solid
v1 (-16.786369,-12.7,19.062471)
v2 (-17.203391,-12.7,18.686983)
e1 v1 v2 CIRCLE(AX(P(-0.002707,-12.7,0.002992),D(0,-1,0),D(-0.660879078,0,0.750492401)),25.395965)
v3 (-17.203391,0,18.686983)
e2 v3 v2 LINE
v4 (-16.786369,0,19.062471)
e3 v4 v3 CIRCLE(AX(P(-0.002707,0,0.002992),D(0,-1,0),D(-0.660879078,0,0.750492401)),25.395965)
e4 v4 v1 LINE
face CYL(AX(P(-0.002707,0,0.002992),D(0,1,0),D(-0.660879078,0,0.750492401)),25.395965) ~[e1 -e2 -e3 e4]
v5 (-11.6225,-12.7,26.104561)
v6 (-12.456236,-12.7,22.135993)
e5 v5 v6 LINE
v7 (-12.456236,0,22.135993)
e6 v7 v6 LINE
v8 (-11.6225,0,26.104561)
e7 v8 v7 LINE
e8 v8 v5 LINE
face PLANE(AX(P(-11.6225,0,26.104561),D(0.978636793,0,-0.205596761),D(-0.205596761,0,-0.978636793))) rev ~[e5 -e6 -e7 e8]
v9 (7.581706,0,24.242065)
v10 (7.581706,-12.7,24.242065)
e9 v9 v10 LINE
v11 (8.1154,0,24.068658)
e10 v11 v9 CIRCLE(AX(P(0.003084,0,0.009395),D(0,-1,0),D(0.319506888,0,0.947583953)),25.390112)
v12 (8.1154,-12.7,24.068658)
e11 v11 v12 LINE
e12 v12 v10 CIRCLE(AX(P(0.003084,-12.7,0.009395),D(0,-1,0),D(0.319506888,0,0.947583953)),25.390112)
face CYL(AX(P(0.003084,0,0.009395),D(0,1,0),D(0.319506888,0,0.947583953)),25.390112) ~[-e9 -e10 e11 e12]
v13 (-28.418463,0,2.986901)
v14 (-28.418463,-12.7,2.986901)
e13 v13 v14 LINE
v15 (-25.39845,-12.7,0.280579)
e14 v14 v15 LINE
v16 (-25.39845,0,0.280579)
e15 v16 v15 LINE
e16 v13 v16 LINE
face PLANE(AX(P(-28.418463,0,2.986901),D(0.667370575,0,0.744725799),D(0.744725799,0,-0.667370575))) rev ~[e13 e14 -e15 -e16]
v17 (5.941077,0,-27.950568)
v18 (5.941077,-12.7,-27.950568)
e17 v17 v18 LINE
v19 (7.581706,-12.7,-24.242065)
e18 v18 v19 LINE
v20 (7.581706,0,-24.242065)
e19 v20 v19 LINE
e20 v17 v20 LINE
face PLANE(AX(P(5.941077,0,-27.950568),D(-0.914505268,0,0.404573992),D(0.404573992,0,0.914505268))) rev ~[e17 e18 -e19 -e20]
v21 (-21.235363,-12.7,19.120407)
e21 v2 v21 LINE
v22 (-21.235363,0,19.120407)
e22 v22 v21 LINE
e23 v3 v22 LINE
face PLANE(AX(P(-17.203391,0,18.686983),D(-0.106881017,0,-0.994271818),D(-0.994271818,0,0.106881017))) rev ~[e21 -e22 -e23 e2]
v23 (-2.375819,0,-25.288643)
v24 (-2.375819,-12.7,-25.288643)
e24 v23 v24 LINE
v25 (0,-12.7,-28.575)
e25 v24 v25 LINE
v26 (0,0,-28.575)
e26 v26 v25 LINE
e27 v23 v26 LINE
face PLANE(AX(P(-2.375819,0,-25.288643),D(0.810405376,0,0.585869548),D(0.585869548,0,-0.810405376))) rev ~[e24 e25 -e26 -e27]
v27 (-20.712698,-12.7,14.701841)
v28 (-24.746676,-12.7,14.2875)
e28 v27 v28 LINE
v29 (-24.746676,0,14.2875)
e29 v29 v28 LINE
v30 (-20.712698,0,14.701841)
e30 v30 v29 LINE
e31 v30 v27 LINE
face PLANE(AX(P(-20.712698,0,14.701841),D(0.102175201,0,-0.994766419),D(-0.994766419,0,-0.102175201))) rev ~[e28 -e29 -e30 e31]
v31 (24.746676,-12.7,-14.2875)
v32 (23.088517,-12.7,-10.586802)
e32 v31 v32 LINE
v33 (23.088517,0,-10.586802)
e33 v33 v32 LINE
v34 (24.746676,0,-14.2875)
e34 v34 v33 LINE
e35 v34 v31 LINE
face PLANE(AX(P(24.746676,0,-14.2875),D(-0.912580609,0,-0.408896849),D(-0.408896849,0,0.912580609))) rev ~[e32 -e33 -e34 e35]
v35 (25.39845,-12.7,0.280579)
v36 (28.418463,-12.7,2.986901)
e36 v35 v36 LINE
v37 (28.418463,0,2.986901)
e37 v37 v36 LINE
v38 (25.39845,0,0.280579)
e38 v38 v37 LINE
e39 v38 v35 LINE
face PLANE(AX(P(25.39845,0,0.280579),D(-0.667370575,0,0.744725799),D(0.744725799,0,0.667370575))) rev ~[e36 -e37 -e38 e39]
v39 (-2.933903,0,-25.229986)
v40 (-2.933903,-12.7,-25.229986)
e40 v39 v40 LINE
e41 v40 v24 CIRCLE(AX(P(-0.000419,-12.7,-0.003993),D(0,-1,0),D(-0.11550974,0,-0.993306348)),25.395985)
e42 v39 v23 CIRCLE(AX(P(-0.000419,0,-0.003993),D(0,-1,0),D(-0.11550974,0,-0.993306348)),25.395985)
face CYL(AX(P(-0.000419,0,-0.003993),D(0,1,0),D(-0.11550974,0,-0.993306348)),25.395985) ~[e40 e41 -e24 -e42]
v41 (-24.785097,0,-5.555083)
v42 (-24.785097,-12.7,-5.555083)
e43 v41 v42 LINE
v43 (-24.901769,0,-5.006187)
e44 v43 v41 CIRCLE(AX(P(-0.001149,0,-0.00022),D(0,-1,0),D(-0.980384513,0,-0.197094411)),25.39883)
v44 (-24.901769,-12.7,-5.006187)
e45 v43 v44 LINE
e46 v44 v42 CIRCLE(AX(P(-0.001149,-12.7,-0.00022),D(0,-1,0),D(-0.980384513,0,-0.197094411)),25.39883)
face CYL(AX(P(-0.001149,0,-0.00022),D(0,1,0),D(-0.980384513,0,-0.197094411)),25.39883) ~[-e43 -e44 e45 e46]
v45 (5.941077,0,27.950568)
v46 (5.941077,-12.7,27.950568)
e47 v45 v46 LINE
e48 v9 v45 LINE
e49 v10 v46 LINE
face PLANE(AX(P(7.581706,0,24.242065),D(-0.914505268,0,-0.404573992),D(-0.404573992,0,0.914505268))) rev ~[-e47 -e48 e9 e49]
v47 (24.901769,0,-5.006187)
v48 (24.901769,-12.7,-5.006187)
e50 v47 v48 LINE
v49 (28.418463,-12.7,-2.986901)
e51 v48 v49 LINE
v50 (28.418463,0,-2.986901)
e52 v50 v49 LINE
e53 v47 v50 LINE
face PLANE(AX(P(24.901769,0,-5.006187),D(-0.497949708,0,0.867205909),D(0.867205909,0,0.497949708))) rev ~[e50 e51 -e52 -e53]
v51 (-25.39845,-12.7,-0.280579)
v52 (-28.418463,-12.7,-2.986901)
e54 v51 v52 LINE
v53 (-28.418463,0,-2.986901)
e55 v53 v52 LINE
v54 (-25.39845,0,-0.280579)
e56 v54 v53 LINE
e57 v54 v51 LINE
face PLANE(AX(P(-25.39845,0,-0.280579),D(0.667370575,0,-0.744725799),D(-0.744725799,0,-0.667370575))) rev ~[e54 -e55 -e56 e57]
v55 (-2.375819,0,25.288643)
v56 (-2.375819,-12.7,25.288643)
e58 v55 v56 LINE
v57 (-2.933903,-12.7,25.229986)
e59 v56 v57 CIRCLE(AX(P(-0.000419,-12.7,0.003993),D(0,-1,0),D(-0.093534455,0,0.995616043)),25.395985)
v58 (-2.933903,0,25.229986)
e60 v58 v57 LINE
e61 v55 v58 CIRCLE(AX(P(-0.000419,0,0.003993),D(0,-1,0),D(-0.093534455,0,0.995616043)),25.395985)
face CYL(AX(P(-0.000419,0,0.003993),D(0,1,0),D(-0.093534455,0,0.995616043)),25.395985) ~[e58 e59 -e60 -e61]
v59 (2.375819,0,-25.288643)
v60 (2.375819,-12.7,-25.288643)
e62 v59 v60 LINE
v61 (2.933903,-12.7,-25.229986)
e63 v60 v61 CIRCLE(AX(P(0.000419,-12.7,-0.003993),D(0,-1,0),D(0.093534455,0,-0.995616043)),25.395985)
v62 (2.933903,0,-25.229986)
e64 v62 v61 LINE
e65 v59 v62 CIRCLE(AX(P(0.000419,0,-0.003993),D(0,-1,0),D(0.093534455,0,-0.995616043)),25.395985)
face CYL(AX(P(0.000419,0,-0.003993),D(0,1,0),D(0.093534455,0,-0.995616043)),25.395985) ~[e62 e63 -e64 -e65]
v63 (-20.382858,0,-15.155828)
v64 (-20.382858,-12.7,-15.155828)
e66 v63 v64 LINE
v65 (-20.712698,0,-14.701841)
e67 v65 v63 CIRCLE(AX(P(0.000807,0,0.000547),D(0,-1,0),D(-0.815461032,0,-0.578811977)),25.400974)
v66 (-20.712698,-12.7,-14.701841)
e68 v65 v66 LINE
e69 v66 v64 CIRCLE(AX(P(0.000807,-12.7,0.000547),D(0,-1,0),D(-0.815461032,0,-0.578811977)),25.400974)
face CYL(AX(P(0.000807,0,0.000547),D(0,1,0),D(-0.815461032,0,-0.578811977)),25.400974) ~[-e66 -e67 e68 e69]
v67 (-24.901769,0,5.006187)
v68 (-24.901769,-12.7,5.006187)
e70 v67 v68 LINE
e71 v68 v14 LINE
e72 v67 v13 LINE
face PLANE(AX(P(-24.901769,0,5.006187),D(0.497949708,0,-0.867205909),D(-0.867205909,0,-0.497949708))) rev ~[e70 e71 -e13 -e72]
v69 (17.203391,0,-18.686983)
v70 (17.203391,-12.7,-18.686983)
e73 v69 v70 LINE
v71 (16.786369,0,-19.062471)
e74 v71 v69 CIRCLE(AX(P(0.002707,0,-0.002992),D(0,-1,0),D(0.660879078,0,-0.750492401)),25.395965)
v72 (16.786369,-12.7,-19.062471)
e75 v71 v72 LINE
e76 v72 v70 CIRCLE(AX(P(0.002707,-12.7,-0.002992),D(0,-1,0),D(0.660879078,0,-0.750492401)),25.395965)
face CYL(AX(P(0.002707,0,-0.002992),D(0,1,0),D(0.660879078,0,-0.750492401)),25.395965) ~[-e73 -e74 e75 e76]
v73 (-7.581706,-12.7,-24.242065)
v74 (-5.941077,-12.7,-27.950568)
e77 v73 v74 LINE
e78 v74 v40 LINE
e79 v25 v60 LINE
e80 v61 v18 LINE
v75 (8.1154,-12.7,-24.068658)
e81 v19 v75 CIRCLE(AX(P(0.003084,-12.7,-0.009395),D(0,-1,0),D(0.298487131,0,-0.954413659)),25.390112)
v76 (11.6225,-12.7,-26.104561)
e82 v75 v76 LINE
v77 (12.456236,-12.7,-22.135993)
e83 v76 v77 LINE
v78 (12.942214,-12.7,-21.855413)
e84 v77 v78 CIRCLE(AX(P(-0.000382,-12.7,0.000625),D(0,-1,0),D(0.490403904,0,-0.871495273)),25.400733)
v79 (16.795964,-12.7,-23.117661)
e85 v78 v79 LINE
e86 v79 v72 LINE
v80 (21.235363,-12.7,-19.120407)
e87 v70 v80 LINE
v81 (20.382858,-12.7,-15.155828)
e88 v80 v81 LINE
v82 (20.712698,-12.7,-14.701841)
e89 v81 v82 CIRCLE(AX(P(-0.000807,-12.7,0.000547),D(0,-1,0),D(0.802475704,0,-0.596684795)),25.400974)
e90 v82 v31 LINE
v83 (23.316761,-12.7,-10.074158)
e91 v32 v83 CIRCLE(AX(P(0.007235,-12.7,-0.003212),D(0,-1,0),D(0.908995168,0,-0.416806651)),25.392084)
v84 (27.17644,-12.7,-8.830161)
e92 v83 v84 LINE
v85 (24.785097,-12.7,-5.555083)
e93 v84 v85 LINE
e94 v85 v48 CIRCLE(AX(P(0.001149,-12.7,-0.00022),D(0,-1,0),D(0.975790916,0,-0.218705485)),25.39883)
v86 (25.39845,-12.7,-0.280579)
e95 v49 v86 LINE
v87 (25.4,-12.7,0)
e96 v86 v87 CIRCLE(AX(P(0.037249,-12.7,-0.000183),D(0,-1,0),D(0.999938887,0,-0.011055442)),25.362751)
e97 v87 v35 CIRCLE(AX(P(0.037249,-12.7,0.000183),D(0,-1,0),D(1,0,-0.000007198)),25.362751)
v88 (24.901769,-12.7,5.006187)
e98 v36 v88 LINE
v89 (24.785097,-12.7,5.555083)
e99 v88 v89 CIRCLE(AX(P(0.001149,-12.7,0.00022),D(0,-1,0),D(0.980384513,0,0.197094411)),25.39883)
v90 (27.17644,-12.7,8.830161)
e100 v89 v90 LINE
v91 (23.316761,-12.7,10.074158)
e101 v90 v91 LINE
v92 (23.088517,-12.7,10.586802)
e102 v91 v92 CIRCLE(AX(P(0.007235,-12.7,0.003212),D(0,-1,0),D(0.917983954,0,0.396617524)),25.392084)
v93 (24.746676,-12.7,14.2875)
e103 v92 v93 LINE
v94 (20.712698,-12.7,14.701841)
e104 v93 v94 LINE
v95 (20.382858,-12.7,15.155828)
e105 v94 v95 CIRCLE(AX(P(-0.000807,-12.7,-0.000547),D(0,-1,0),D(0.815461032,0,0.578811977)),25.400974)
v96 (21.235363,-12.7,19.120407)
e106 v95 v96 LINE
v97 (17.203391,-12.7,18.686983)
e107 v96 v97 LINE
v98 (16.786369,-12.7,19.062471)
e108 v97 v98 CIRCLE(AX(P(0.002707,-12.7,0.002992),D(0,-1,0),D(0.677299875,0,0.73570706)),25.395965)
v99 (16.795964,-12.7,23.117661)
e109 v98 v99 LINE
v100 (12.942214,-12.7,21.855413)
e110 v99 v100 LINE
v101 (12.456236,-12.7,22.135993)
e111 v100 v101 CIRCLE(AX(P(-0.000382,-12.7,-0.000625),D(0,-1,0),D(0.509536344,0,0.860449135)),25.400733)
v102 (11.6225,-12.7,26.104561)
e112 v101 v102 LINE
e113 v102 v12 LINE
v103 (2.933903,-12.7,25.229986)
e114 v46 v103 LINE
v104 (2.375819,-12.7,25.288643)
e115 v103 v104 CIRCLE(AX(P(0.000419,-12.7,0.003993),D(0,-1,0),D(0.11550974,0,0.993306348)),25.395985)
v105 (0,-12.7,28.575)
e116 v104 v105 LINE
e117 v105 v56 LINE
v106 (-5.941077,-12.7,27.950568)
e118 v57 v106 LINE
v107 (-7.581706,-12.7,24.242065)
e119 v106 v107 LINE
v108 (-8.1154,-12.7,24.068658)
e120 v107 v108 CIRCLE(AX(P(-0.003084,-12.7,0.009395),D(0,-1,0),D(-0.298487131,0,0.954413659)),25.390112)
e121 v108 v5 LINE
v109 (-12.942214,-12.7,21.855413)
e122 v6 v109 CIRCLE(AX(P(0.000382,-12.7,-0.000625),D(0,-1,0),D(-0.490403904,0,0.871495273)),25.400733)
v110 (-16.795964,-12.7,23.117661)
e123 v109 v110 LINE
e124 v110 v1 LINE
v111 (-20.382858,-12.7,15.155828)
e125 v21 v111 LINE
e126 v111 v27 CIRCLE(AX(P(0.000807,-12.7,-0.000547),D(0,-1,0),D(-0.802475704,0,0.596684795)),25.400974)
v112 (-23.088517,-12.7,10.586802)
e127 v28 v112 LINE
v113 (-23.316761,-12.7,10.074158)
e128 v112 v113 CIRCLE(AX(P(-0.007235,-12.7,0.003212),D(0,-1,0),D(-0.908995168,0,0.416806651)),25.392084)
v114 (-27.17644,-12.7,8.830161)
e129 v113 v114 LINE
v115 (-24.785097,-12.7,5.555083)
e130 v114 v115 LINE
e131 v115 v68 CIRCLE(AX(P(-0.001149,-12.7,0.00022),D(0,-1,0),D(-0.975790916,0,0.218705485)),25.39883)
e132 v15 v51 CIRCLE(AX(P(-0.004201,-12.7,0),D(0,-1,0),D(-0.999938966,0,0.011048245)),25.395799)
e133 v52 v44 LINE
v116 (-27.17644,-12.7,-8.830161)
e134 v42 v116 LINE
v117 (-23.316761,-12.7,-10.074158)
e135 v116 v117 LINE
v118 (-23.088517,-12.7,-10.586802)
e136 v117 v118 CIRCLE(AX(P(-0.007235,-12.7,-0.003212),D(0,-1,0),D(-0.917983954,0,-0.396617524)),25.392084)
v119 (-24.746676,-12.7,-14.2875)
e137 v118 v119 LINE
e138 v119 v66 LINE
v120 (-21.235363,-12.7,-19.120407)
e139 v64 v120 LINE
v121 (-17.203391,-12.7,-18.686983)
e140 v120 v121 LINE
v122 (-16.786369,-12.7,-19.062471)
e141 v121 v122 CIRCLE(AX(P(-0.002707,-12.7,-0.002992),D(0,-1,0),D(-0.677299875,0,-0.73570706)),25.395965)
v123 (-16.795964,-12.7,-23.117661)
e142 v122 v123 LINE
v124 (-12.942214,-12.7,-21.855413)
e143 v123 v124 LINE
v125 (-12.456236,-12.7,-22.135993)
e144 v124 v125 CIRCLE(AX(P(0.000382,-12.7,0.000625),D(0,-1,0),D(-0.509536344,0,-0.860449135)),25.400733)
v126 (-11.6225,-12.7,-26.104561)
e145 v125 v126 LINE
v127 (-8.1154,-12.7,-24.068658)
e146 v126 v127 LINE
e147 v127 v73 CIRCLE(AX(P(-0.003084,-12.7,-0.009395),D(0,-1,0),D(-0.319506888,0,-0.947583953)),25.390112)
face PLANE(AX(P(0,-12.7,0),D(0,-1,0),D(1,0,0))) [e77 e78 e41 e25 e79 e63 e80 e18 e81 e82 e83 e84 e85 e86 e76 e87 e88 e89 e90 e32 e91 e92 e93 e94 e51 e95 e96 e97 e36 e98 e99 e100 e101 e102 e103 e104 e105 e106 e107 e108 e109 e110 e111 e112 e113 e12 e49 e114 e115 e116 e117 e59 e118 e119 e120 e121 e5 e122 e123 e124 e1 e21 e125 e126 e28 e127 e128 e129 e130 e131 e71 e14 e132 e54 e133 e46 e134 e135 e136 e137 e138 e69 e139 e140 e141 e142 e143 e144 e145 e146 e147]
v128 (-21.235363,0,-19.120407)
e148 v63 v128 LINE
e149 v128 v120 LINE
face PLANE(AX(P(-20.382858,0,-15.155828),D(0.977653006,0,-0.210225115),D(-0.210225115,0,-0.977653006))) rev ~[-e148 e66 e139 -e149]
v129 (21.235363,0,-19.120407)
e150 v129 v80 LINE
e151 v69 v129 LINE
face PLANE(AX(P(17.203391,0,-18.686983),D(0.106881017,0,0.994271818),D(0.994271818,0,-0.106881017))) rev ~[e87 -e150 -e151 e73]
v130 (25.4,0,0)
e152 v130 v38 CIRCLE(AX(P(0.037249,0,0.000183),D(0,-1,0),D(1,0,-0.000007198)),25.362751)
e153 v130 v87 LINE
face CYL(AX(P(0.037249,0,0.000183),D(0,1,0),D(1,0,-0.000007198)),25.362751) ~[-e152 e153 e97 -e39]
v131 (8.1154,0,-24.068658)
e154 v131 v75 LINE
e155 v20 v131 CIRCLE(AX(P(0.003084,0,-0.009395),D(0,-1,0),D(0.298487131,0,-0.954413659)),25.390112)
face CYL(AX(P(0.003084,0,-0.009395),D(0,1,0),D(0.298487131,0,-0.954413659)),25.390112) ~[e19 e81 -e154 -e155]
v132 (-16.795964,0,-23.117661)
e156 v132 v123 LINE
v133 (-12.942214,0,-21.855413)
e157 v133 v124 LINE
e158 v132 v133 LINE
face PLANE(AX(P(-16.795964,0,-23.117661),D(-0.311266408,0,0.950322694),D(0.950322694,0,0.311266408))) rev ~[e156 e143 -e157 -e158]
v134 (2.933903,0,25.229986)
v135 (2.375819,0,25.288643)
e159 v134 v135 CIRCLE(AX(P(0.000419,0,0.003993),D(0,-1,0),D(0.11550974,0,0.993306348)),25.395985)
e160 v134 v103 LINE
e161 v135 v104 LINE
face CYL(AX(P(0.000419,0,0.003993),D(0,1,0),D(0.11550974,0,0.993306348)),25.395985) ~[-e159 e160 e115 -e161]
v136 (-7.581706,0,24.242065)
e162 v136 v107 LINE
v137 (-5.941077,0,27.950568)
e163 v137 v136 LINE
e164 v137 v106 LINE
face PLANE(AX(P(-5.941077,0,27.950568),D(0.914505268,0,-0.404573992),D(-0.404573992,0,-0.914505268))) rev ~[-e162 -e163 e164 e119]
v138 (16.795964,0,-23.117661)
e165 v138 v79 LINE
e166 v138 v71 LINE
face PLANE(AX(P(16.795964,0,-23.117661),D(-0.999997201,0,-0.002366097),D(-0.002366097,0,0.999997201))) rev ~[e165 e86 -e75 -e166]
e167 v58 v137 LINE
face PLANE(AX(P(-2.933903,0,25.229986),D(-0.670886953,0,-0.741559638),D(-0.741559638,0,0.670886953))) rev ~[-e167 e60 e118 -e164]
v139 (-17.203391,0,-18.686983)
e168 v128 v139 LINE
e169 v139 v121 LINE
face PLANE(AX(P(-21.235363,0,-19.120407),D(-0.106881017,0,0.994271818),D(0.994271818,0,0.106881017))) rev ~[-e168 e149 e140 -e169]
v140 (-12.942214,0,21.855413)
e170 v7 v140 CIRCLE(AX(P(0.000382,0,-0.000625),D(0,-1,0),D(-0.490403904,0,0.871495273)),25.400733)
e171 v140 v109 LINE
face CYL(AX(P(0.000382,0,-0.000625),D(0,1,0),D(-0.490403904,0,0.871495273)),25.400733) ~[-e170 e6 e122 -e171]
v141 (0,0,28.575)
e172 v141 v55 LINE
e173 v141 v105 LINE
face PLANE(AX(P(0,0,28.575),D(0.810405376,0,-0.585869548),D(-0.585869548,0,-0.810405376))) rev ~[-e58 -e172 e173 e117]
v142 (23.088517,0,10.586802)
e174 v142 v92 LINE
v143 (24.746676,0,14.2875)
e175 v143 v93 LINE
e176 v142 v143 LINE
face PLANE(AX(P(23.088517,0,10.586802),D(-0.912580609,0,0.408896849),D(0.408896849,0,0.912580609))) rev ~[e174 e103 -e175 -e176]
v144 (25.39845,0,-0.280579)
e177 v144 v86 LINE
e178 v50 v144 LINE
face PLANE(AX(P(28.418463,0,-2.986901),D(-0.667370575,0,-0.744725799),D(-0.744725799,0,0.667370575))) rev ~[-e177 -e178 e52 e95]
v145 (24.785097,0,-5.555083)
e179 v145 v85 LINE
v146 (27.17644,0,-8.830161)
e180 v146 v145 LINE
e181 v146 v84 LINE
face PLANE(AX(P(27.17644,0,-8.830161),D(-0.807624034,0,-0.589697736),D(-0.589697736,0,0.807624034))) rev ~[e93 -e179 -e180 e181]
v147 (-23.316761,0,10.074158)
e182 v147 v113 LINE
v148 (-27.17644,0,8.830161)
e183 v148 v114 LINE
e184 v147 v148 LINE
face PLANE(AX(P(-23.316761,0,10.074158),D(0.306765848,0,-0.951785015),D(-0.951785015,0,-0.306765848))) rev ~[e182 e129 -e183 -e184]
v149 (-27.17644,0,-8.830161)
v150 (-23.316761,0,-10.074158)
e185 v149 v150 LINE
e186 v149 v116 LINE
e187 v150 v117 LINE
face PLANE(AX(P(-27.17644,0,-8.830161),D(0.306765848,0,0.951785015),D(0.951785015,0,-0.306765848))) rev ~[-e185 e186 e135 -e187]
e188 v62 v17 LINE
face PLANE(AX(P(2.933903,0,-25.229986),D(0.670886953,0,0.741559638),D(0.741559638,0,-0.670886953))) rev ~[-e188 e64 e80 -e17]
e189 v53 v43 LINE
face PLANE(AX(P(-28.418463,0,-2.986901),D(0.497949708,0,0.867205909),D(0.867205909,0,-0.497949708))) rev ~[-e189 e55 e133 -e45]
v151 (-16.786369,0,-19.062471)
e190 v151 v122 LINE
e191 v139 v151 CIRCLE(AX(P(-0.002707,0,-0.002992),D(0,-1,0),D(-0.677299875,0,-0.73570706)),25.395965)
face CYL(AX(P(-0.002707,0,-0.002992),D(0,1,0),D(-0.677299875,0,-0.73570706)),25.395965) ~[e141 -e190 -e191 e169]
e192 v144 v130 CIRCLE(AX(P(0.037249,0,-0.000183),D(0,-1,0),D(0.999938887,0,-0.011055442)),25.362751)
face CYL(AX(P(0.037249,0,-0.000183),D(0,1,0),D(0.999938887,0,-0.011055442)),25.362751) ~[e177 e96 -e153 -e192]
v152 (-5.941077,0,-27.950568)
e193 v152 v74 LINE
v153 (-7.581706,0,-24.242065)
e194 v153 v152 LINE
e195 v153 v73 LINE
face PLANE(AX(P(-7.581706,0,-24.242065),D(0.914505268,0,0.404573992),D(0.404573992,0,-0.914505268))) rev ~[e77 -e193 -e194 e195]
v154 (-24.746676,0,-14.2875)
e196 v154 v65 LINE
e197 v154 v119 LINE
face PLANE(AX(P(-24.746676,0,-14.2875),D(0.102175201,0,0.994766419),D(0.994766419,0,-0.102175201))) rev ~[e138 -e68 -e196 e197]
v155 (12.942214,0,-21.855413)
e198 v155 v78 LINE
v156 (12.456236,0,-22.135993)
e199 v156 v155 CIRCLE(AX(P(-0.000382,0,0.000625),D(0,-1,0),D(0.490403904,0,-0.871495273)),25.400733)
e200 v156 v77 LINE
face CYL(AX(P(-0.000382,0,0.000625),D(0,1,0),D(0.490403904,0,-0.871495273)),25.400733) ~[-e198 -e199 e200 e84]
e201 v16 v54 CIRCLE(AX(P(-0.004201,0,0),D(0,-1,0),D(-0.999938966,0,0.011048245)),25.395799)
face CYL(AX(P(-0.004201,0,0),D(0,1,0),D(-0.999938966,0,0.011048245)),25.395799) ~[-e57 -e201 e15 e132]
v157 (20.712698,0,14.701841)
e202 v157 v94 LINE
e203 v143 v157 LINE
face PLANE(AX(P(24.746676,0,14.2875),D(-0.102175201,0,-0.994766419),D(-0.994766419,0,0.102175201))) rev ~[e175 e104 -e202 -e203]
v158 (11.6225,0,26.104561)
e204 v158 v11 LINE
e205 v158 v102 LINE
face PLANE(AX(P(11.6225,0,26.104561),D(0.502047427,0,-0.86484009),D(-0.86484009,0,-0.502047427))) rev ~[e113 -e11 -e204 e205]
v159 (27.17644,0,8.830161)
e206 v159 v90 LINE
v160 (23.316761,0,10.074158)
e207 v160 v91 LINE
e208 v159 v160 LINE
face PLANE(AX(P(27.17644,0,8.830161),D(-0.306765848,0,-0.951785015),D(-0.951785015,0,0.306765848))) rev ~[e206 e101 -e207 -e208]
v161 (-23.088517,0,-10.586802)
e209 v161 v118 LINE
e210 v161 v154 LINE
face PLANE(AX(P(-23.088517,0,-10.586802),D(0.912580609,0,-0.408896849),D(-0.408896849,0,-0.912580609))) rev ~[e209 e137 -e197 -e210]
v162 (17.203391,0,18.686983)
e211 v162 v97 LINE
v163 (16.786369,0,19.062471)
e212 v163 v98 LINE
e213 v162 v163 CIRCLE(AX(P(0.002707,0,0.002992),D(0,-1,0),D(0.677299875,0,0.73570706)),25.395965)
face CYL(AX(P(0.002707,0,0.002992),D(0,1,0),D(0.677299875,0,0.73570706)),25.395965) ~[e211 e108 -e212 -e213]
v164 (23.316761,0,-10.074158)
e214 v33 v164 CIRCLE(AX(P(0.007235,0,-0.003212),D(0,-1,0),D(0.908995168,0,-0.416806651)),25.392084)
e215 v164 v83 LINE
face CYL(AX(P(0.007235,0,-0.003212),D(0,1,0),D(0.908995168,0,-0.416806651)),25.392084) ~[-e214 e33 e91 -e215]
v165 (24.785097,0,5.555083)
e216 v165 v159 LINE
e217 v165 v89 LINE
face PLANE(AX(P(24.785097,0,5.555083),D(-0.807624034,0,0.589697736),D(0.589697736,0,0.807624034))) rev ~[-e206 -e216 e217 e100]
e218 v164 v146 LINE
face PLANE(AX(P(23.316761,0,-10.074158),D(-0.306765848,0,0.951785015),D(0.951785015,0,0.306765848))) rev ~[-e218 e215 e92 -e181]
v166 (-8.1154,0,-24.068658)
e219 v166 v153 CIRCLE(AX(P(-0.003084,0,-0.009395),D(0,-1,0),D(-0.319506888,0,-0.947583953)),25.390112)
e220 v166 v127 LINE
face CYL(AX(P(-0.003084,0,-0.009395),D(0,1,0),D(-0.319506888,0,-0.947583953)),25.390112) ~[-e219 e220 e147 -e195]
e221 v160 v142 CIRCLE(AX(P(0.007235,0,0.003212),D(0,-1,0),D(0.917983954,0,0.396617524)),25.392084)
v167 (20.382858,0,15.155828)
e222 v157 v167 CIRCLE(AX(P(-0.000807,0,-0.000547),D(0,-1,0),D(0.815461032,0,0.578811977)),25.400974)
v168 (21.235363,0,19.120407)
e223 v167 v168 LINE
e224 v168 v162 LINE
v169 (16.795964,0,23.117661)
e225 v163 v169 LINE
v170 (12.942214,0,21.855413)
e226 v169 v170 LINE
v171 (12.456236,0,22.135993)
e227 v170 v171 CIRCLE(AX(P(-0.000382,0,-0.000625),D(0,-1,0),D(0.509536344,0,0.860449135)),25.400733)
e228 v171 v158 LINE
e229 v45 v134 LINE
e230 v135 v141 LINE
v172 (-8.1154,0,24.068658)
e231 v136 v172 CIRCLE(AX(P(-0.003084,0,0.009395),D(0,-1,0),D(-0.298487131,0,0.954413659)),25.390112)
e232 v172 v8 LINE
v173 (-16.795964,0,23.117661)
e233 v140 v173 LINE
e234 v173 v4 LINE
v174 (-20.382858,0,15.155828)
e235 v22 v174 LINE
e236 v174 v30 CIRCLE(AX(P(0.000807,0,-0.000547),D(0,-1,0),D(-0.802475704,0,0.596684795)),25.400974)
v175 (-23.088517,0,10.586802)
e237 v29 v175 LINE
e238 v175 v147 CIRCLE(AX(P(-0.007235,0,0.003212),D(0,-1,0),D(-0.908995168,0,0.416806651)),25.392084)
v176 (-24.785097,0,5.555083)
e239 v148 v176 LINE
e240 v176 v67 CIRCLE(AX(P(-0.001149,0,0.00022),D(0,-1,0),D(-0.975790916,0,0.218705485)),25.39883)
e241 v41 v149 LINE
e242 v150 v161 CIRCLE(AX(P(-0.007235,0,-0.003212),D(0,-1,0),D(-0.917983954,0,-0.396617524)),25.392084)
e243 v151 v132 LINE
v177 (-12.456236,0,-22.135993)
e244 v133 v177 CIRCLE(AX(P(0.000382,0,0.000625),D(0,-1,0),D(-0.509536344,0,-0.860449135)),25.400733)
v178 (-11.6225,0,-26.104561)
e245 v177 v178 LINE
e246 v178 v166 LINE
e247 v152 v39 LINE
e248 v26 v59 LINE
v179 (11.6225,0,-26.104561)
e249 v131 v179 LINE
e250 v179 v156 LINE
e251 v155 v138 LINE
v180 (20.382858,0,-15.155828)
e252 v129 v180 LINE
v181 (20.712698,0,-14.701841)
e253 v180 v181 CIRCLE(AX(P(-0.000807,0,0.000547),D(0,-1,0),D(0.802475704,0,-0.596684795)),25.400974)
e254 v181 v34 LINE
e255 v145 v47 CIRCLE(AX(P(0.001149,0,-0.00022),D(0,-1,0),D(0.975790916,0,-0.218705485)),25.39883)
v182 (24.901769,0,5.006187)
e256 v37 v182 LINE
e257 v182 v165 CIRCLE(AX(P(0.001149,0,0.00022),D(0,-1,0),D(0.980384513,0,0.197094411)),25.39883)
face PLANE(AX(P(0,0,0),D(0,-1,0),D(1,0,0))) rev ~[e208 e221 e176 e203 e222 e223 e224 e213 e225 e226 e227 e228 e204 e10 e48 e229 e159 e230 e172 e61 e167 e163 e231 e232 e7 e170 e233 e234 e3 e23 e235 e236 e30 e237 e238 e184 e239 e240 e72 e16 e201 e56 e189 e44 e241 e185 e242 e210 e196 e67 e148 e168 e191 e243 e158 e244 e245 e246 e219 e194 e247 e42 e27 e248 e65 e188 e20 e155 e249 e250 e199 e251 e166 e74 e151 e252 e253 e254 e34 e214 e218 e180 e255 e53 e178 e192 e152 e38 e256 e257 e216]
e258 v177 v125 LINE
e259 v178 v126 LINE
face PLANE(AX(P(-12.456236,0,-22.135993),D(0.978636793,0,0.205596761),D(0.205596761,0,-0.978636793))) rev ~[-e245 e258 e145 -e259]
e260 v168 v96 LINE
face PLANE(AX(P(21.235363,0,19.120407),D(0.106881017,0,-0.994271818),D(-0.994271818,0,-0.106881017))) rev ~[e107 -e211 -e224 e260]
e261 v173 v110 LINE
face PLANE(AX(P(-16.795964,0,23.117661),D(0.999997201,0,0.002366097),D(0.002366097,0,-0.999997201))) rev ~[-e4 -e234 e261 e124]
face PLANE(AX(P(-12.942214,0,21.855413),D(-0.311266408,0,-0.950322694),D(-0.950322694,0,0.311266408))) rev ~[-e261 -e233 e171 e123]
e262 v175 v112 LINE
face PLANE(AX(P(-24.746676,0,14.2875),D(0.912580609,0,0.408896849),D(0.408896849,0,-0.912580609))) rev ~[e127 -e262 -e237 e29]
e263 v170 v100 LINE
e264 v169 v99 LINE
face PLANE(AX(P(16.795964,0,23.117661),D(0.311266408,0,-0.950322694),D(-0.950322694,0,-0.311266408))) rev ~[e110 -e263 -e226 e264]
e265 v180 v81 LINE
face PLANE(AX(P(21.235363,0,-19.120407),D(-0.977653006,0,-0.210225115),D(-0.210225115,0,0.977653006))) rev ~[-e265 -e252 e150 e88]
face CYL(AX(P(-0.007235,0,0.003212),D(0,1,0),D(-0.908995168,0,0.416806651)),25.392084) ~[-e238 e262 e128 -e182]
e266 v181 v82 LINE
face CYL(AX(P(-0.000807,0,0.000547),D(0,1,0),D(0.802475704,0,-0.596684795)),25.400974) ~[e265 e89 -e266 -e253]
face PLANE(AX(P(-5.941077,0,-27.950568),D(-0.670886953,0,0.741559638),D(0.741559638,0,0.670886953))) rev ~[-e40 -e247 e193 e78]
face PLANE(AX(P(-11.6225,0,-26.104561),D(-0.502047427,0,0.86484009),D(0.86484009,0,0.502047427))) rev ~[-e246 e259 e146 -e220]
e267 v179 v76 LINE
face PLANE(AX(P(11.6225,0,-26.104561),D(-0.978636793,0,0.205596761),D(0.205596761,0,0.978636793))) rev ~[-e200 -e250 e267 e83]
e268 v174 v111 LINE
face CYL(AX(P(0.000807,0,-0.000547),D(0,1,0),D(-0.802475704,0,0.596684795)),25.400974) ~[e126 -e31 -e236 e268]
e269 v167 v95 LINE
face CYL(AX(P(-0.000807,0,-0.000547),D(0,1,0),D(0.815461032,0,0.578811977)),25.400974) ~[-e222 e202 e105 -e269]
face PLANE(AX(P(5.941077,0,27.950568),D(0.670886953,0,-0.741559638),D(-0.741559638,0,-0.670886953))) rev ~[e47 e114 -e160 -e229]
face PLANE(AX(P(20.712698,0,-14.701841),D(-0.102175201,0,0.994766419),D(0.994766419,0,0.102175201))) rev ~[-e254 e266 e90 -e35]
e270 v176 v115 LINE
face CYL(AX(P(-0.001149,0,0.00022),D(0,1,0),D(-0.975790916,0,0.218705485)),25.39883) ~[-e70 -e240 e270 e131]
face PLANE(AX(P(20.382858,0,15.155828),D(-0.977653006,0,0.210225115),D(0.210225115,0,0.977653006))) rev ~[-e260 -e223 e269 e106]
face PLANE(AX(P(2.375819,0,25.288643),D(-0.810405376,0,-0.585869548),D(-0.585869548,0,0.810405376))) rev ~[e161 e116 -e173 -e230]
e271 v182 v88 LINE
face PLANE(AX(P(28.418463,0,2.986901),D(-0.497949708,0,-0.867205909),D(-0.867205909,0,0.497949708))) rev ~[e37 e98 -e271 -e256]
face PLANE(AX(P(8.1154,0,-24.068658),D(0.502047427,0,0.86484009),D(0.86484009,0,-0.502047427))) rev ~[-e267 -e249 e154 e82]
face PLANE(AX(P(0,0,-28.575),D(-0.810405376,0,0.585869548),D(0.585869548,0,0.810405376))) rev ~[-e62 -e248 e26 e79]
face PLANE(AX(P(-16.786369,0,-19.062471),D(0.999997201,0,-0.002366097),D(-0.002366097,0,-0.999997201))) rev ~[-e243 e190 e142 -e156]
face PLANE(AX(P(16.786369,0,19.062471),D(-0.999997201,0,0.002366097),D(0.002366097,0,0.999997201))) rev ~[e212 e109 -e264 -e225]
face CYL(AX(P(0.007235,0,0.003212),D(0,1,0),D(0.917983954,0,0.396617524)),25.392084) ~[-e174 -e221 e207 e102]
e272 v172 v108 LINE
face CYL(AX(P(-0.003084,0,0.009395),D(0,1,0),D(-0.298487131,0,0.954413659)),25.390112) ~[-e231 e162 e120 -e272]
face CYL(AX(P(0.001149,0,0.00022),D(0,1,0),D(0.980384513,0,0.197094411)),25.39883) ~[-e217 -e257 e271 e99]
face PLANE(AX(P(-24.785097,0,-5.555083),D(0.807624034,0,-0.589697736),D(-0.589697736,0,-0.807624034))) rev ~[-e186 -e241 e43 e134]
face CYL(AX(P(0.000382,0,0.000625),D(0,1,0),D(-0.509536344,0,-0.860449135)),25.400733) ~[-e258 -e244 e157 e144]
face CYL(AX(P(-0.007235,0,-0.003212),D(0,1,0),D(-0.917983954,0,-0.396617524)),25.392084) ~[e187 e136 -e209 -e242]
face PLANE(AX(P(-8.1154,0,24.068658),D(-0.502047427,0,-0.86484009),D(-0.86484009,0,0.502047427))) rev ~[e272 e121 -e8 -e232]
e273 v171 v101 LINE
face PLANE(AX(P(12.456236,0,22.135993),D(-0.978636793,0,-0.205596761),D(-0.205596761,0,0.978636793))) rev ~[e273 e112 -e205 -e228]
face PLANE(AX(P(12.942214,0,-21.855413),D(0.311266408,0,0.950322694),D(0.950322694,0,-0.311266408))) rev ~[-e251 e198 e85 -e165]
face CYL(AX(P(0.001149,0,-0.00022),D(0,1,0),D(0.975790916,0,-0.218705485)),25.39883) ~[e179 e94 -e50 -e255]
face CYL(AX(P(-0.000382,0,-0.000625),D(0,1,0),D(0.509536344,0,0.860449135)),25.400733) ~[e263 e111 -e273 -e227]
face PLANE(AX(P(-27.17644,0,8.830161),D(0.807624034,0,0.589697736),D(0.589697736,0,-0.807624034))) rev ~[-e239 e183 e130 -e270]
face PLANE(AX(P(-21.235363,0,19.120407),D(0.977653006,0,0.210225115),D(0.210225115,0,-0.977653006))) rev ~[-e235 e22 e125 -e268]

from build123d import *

# Parameters (mm, degrees)
F1_DEPTH = 12.7


with BuildPart() as f1:
    # F0 (on Front) → F1 (new body)
    with BuildSketch(Plane.XZ):
        with BuildLine():
            ThreePointArc((25.39845, -0.280579), (25.399613, -0.140292), (25.4, 0))
            ThreePointArc((25.4, 0), (25.399613, 0.140292), (25.39845, 0.280579))
            ThreePointArc((25.39845, 0.280579), (25.260856, 2.655023), (24.901769, 5.006187))
            ThreePointArc((24.901769, 5.006187), (24.844949, 5.280957), (24.785097, 5.555083))
            ThreePointArc((24.785097, 5.555083), (24.156836, 7.849032), (23.316761, 10.074158))
            ThreePointArc((23.316761, 10.074158), (23.204055, 10.331111), (23.088517, 10.586802))
            ThreePointArc((23.088517, 10.586802), (21.997045, 12.7), (20.712698, 14.701841))
            ThreePointArc((20.712698, 14.701841), (20.549032, 14.929745), (20.382858, 15.155828))
            ThreePointArc((20.382858, 15.155828), (18.875879, 16.995917), (17.203391, 18.686983))
            ThreePointArc((17.203391, 18.686983), (16.995917, 18.875879), (16.786369, 19.062471))
            ThreePointArc((16.786369, 19.062471), (14.929745, 20.549032), (12.942214, 21.855413))
            ThreePointArc((12.942214, 21.855413), (12.7, 21.997045), (12.456236, 22.135993))
            ThreePointArc((12.456236, 22.135993), (10.331111, 23.204055), (8.1154, 24.068658))
            ThreePointArc((8.1154, 24.068658), (7.849032, 24.156836), (7.581706, 24.242065))
            ThreePointArc((7.581706, 24.242065), (5.280957, 24.844949), (2.933903, 25.229986))
            ThreePointArc((2.933903, 25.229986), (2.655023, 25.260856), (2.375819, 25.288643))
            ThreePointArc((2.375819, 25.288643), (0, 25.4), (-2.375819, 25.288643))
            ThreePointArc((-2.375819, 25.288643), (-2.655023, 25.260856), (-2.933903, 25.229986))
            ThreePointArc((-2.933903, 25.229986), (-5.280957, 24.844949), (-7.581706, 24.242065))
            ThreePointArc((-7.581706, 24.242065), (-7.849032, 24.156836), (-8.1154, 24.068658))
            ThreePointArc((-8.1154, 24.068658), (-10.331111, 23.204055), (-12.456236, 22.135993))
            ThreePointArc((-12.456236, 22.135993), (-12.7, 21.997045), (-12.942214, 21.855413))
            ThreePointArc((-12.942214, 21.855413), (-14.929745, 20.549032), (-16.786369, 19.062471))
            ThreePointArc((-16.786369, 19.062471), (-16.995917, 18.875879), (-17.203391, 18.686983))
            ThreePointArc((-17.203391, 18.686983), (-18.875879, 16.995917), (-20.382858, 15.155828))
            ThreePointArc((-20.382858, 15.155828), (-20.549032, 14.929745), (-20.712698, 14.701841))
            ThreePointArc((-20.712698, 14.701841), (-21.997045, 12.7), (-23.088517, 10.586802))
            ThreePointArc((-23.088517, 10.586802), (-23.204055, 10.331111), (-23.316761, 10.074158))
            ThreePointArc((-23.316761, 10.074158), (-24.156836, 7.849032), (-24.785097, 5.555083))
            ThreePointArc((-24.785097, 5.555083), (-24.844949, 5.280957), (-24.901769, 5.006187))
            ThreePointArc((-24.901769, 5.006187), (-25.260856, 2.655023), (-25.39845, 0.280579))
            ThreePointArc((-25.39845, 0.280579), (-25.4, 0), (-25.39845, -0.280579))
            ThreePointArc((-25.39845, -0.280579), (-25.260856, -2.655023), (-24.901769, -5.006187))
            ThreePointArc((-24.901769, -5.006187), (-24.844949, -5.280957), (-24.785097, -5.555083))
            ThreePointArc((-24.785097, -5.555083), (-24.156836, -7.849032), (-23.316761, -10.074158))
            ThreePointArc((-23.316761, -10.074158), (-23.204055, -10.331111), (-23.088517, -10.586802))
            ThreePointArc((-23.088517, -10.586802), (-21.997045, -12.7), (-20.712698, -14.701841))
            ThreePointArc((-20.712698, -14.701841), (-20.549032, -14.929745), (-20.382858, -15.155828))
            ThreePointArc((-20.382858, -15.155828), (-18.875879, -16.995917), (-17.203391, -18.686983))
            ThreePointArc((-17.203391, -18.686983), (-16.995917, -18.875879), (-16.786369, -19.062471))
            ThreePointArc((-16.786369, -19.062471), (-14.929745, -20.549032), (-12.942214, -21.855413))
            ThreePointArc((-12.942214, -21.855413), (-12.7, -21.997045), (-12.456236, -22.135993))
            ThreePointArc((-12.456236, -22.135993), (-10.331111, -23.204055), (-8.1154, -24.068658))
            ThreePointArc((-8.1154, -24.068658), (-7.849032, -24.156836), (-7.581706, -24.242065))
            ThreePointArc((-7.581706, -24.242065), (-5.280957, -24.844949), (-2.933903, -25.229986))
            ThreePointArc((-2.933903, -25.229986), (-2.655023, -25.260856), (-2.375819, -25.288643))
            ThreePointArc((-2.375819, -25.288643), (0, -25.4), (2.375819, -25.288643))
            ThreePointArc((2.375819, -25.288643), (2.655023, -25.260856), (2.933903, -25.229986))
            ThreePointArc((2.933903, -25.229986), (5.280957, -24.844949), (7.581706, -24.242065))
            ThreePointArc((7.581706, -24.242065), (7.849032, -24.156836), (8.1154, -24.068658))
            ThreePointArc((8.1154, -24.068658), (10.331111, -23.204055), (12.456236, -22.135993))
            ThreePointArc((12.456236, -22.135993), (12.7, -21.997045), (12.942214, -21.855413))
            ThreePointArc((12.942214, -21.855413), (14.929745, -20.549032), (16.786369, -19.062471))
            ThreePointArc((16.786369, -19.062471), (16.995917, -18.875879), (17.203391, -18.686983))
            ThreePointArc((17.203391, -18.686983), (18.875879, -16.995917), (20.382858, -15.155828))
            ThreePointArc((20.382858, -15.155828), (20.549032, -14.929745), (20.712698, -14.701841))
            ThreePointArc((20.712698, -14.701841), (21.997045, -12.7), (23.088517, -10.586802))
            ThreePointArc((23.088517, -10.586802), (23.204055, -10.331111), (23.316761, -10.074158))
            ThreePointArc((23.316761, -10.074158), (24.156836, -7.849032), (24.785097, -5.555083))
            ThreePointArc((24.785097, -5.555083), (24.844949, -5.280957), (24.901769, -5.006187))
            ThreePointArc((24.901769, -5.006187), (25.260856, -2.655023), (25.39845, -0.280579))
        make_face()
        with BuildLine():
            ThreePointArc((24.901769, 5.006187), (25.260856, 2.655023), (25.39845, 0.280579))
            Line((25.39845, 0.280579), (28.418463, 2.986901))
            Line((28.418463, 2.986901), (24.901769, 5.006187))
        make_face()
        with BuildLine():
            Line((28.418463, -2.986901), (25.39845, -0.280579))
            ThreePointArc((25.39845, -0.280579), (25.260856, -2.655023), (24.901769, -5.006187))
            Line((24.901769, -5.006187), (28.418463, -2.986901))
        make_face()
        with BuildLine():
            ThreePointArc((23.316761, 10.074158), (24.156836, 7.849032), (24.785097, 5.555083))
            Line((24.785097, 5.555083), (27.17644, 8.830161))
            Line((27.17644, 8.830161), (23.316761, 10.074158))
        make_face()
        with BuildLine():
            Line((27.17644, -8.830161), (24.785097, -5.555083))
            ThreePointArc((24.785097, -5.555083), (24.156836, -7.849032), (23.316761, -10.074158))
            Line((23.316761, -10.074158), (27.17644, -8.830161))
        make_face()
        with BuildLine():
            ThreePointArc((20.712698, 14.701841), (21.997045, 12.7), (23.088517, 10.586802))
            Line((23.088517, 10.586802), (24.746676, 14.2875))
            Line((24.746676, 14.2875), (20.712698, 14.701841))
        make_face()
        with BuildLine():
            Line((24.746676, -14.2875), (23.088517, -10.586802))
            ThreePointArc((23.088517, -10.586802), (21.997045, -12.7), (20.712698, -14.701841))
            Line((20.712698, -14.701841), (24.746676, -14.2875))
        make_face()
        with BuildLine():
            ThreePointArc((17.203391, 18.686983), (18.875879, 16.995917), (20.382858, 15.155828))
            Line((20.382858, 15.155828), (21.235363, 19.120407))
            Line((21.235363, 19.120407), (17.203391, 18.686983))
        make_face()
        with BuildLine():
            Line((21.235363, -19.120407), (20.382858, -15.155828))
            ThreePointArc((20.382858, -15.155828), (18.875879, -16.995917), (17.203391, -18.686983))
            Line((17.203391, -18.686983), (21.235363, -19.120407))
        make_face()
        with BuildLine():
            ThreePointArc((12.942214, 21.855413), (14.929745, 20.549032), (16.786369, 19.062471))
            Line((16.786369, 19.062471), (16.795964, 23.117661))
            Line((16.795964, 23.117661), (12.942214, 21.855413))
        make_face()
        with BuildLine():
            Line((16.795964, -23.117661), (16.786369, -19.062471))
            ThreePointArc((16.786369, -19.062471), (14.929745, -20.549032), (12.942214, -21.855413))
            Line((12.942214, -21.855413), (16.795964, -23.117661))
        make_face()
        with BuildLine():
            ThreePointArc((8.1154, 24.068658), (10.331111, 23.204055), (12.456236, 22.135993))
            Line((12.456236, 22.135993), (11.6225, 26.104561))
            Line((11.6225, 26.104561), (8.1154, 24.068658))
        make_face()
        with BuildLine():
            Line((11.6225, -26.104561), (12.456236, -22.135993))
            ThreePointArc((12.456236, -22.135993), (10.331111, -23.204055), (8.1154, -24.068658))
            Line((8.1154, -24.068658), (11.6225, -26.104561))
        make_face()
        with BuildLine():
            ThreePointArc((2.933903, 25.229986), (5.280957, 24.844949), (7.581706, 24.242065))
            Line((7.581706, 24.242065), (5.941077, 27.950568))
            Line((5.941077, 27.950568), (2.933903, 25.229986))
        make_face()
        with BuildLine():
            Line((5.941077, -27.950568), (7.581706, -24.242065))
            ThreePointArc((7.581706, -24.242065), (5.280957, -24.844949), (2.933903, -25.229986))
            Line((2.933903, -25.229986), (5.941077, -27.950568))
        make_face()
        with BuildLine():
            ThreePointArc((-2.375819, 25.288643), (0, 25.4), (2.375819, 25.288643))
            Line((2.375819, 25.288643), (0, 28.575))
            Line((0, 28.575), (-2.375819, 25.288643))
        make_face()
        with BuildLine():
            Line((0, -28.575), (2.375819, -25.288643))
            ThreePointArc((2.375819, -25.288643), (0, -25.4), (-2.375819, -25.288643))
            Line((-2.375819, -25.288643), (0, -28.575))
        make_face()
        with BuildLine():
            ThreePointArc((-7.581706, 24.242065), (-5.280957, 24.844949), (-2.933903, 25.229986))
            Line((-2.933903, 25.229986), (-5.941077, 27.950568))
            Line((-5.941077, 27.950568), (-7.581706, 24.242065))
        make_face()
        with BuildLine():
            Line((-5.941077, -27.950568), (-2.933903, -25.229986))
            ThreePointArc((-2.933903, -25.229986), (-5.280957, -24.844949), (-7.581706, -24.242065))
            Line((-7.581706, -24.242065), (-5.941077, -27.950568))
        make_face()
        with BuildLine():
            ThreePointArc((-12.456236, 22.135993), (-10.331111, 23.204055), (-8.1154, 24.068658))
            Line((-8.1154, 24.068658), (-11.6225, 26.104561))
            Line((-11.6225, 26.104561), (-12.456236, 22.135993))
        make_face()
        with BuildLine():
            Line((-11.6225, -26.104561), (-8.1154, -24.068658))
            ThreePointArc((-8.1154, -24.068658), (-10.331111, -23.204055), (-12.456236, -22.135993))
            Line((-12.456236, -22.135993), (-11.6225, -26.104561))
        make_face()
        with BuildLine():
            ThreePointArc((-16.786369, 19.062471), (-14.929745, 20.549032), (-12.942214, 21.855413))
            Line((-12.942214, 21.855413), (-16.795964, 23.117661))
            Line((-16.795964, 23.117661), (-16.786369, 19.062471))
        make_face()
        with BuildLine():
            Line((-16.795964, -23.117661), (-12.942214, -21.855413))
            ThreePointArc((-12.942214, -21.855413), (-14.929745, -20.549032), (-16.786369, -19.062471))
            Line((-16.786369, -19.062471), (-16.795964, -23.117661))
        make_face()
        with BuildLine():
            ThreePointArc((-20.382858, 15.155828), (-18.875879, 16.995917), (-17.203391, 18.686983))
            Line((-17.203391, 18.686983), (-21.235363, 19.120407))
            Line((-21.235363, 19.120407), (-20.382858, 15.155828))
        make_face()
        with BuildLine():
            Line((-21.235363, -19.120407), (-17.203391, -18.686983))
            ThreePointArc((-17.203391, -18.686983), (-18.875879, -16.995917), (-20.382858, -15.155828))
            Line((-20.382858, -15.155828), (-21.235363, -19.120407))
        make_face()
        with BuildLine():
            ThreePointArc((-23.088517, 10.586802), (-21.997045, 12.7), (-20.712698, 14.701841))
            Line((-20.712698, 14.701841), (-24.746676, 14.2875))
            Line((-24.746676, 14.2875), (-23.088517, 10.586802))
        make_face()
        with BuildLine():
            Line((-24.746676, -14.2875), (-20.712698, -14.701841))
            ThreePointArc((-20.712698, -14.701841), (-21.997045, -12.7), (-23.088517, -10.586802))
            Line((-23.088517, -10.586802), (-24.746676, -14.2875))
        make_face()
        with BuildLine():
            ThreePointArc((-24.785097, 5.555083), (-24.156836, 7.849032), (-23.316761, 10.074158))
            Line((-23.316761, 10.074158), (-27.17644, 8.830161))
            Line((-27.17644, 8.830161), (-24.785097, 5.555083))
        make_face()
        with BuildLine():
            Line((-27.17644, -8.830161), (-23.316761, -10.074158))
            ThreePointArc((-23.316761, -10.074158), (-24.156836, -7.849032), (-24.785097, -5.555083))
            Line((-24.785097, -5.555083), (-27.17644, -8.830161))
        make_face()
        with BuildLine():
            ThreePointArc((-25.39845, 0.280579), (-25.260856, 2.655023), (-24.901769, 5.006187))
            Line((-24.901769, 5.006187), (-28.418463, 2.986901))
            Line((-28.418463, 2.986901), (-25.39845, 0.280579))
        make_face()
        with BuildLine():
            Line((-28.418463, -2.986901), (-24.901769, -5.006187))
            ThreePointArc((-24.901769, -5.006187), (-25.260856, -2.655023), (-25.39845, -0.280579))
            Line((-25.39845, -0.280579), (-28.418463, -2.986901))
        make_face()
    extrude(amount=F1_DEPTH)


solid = f1.part
